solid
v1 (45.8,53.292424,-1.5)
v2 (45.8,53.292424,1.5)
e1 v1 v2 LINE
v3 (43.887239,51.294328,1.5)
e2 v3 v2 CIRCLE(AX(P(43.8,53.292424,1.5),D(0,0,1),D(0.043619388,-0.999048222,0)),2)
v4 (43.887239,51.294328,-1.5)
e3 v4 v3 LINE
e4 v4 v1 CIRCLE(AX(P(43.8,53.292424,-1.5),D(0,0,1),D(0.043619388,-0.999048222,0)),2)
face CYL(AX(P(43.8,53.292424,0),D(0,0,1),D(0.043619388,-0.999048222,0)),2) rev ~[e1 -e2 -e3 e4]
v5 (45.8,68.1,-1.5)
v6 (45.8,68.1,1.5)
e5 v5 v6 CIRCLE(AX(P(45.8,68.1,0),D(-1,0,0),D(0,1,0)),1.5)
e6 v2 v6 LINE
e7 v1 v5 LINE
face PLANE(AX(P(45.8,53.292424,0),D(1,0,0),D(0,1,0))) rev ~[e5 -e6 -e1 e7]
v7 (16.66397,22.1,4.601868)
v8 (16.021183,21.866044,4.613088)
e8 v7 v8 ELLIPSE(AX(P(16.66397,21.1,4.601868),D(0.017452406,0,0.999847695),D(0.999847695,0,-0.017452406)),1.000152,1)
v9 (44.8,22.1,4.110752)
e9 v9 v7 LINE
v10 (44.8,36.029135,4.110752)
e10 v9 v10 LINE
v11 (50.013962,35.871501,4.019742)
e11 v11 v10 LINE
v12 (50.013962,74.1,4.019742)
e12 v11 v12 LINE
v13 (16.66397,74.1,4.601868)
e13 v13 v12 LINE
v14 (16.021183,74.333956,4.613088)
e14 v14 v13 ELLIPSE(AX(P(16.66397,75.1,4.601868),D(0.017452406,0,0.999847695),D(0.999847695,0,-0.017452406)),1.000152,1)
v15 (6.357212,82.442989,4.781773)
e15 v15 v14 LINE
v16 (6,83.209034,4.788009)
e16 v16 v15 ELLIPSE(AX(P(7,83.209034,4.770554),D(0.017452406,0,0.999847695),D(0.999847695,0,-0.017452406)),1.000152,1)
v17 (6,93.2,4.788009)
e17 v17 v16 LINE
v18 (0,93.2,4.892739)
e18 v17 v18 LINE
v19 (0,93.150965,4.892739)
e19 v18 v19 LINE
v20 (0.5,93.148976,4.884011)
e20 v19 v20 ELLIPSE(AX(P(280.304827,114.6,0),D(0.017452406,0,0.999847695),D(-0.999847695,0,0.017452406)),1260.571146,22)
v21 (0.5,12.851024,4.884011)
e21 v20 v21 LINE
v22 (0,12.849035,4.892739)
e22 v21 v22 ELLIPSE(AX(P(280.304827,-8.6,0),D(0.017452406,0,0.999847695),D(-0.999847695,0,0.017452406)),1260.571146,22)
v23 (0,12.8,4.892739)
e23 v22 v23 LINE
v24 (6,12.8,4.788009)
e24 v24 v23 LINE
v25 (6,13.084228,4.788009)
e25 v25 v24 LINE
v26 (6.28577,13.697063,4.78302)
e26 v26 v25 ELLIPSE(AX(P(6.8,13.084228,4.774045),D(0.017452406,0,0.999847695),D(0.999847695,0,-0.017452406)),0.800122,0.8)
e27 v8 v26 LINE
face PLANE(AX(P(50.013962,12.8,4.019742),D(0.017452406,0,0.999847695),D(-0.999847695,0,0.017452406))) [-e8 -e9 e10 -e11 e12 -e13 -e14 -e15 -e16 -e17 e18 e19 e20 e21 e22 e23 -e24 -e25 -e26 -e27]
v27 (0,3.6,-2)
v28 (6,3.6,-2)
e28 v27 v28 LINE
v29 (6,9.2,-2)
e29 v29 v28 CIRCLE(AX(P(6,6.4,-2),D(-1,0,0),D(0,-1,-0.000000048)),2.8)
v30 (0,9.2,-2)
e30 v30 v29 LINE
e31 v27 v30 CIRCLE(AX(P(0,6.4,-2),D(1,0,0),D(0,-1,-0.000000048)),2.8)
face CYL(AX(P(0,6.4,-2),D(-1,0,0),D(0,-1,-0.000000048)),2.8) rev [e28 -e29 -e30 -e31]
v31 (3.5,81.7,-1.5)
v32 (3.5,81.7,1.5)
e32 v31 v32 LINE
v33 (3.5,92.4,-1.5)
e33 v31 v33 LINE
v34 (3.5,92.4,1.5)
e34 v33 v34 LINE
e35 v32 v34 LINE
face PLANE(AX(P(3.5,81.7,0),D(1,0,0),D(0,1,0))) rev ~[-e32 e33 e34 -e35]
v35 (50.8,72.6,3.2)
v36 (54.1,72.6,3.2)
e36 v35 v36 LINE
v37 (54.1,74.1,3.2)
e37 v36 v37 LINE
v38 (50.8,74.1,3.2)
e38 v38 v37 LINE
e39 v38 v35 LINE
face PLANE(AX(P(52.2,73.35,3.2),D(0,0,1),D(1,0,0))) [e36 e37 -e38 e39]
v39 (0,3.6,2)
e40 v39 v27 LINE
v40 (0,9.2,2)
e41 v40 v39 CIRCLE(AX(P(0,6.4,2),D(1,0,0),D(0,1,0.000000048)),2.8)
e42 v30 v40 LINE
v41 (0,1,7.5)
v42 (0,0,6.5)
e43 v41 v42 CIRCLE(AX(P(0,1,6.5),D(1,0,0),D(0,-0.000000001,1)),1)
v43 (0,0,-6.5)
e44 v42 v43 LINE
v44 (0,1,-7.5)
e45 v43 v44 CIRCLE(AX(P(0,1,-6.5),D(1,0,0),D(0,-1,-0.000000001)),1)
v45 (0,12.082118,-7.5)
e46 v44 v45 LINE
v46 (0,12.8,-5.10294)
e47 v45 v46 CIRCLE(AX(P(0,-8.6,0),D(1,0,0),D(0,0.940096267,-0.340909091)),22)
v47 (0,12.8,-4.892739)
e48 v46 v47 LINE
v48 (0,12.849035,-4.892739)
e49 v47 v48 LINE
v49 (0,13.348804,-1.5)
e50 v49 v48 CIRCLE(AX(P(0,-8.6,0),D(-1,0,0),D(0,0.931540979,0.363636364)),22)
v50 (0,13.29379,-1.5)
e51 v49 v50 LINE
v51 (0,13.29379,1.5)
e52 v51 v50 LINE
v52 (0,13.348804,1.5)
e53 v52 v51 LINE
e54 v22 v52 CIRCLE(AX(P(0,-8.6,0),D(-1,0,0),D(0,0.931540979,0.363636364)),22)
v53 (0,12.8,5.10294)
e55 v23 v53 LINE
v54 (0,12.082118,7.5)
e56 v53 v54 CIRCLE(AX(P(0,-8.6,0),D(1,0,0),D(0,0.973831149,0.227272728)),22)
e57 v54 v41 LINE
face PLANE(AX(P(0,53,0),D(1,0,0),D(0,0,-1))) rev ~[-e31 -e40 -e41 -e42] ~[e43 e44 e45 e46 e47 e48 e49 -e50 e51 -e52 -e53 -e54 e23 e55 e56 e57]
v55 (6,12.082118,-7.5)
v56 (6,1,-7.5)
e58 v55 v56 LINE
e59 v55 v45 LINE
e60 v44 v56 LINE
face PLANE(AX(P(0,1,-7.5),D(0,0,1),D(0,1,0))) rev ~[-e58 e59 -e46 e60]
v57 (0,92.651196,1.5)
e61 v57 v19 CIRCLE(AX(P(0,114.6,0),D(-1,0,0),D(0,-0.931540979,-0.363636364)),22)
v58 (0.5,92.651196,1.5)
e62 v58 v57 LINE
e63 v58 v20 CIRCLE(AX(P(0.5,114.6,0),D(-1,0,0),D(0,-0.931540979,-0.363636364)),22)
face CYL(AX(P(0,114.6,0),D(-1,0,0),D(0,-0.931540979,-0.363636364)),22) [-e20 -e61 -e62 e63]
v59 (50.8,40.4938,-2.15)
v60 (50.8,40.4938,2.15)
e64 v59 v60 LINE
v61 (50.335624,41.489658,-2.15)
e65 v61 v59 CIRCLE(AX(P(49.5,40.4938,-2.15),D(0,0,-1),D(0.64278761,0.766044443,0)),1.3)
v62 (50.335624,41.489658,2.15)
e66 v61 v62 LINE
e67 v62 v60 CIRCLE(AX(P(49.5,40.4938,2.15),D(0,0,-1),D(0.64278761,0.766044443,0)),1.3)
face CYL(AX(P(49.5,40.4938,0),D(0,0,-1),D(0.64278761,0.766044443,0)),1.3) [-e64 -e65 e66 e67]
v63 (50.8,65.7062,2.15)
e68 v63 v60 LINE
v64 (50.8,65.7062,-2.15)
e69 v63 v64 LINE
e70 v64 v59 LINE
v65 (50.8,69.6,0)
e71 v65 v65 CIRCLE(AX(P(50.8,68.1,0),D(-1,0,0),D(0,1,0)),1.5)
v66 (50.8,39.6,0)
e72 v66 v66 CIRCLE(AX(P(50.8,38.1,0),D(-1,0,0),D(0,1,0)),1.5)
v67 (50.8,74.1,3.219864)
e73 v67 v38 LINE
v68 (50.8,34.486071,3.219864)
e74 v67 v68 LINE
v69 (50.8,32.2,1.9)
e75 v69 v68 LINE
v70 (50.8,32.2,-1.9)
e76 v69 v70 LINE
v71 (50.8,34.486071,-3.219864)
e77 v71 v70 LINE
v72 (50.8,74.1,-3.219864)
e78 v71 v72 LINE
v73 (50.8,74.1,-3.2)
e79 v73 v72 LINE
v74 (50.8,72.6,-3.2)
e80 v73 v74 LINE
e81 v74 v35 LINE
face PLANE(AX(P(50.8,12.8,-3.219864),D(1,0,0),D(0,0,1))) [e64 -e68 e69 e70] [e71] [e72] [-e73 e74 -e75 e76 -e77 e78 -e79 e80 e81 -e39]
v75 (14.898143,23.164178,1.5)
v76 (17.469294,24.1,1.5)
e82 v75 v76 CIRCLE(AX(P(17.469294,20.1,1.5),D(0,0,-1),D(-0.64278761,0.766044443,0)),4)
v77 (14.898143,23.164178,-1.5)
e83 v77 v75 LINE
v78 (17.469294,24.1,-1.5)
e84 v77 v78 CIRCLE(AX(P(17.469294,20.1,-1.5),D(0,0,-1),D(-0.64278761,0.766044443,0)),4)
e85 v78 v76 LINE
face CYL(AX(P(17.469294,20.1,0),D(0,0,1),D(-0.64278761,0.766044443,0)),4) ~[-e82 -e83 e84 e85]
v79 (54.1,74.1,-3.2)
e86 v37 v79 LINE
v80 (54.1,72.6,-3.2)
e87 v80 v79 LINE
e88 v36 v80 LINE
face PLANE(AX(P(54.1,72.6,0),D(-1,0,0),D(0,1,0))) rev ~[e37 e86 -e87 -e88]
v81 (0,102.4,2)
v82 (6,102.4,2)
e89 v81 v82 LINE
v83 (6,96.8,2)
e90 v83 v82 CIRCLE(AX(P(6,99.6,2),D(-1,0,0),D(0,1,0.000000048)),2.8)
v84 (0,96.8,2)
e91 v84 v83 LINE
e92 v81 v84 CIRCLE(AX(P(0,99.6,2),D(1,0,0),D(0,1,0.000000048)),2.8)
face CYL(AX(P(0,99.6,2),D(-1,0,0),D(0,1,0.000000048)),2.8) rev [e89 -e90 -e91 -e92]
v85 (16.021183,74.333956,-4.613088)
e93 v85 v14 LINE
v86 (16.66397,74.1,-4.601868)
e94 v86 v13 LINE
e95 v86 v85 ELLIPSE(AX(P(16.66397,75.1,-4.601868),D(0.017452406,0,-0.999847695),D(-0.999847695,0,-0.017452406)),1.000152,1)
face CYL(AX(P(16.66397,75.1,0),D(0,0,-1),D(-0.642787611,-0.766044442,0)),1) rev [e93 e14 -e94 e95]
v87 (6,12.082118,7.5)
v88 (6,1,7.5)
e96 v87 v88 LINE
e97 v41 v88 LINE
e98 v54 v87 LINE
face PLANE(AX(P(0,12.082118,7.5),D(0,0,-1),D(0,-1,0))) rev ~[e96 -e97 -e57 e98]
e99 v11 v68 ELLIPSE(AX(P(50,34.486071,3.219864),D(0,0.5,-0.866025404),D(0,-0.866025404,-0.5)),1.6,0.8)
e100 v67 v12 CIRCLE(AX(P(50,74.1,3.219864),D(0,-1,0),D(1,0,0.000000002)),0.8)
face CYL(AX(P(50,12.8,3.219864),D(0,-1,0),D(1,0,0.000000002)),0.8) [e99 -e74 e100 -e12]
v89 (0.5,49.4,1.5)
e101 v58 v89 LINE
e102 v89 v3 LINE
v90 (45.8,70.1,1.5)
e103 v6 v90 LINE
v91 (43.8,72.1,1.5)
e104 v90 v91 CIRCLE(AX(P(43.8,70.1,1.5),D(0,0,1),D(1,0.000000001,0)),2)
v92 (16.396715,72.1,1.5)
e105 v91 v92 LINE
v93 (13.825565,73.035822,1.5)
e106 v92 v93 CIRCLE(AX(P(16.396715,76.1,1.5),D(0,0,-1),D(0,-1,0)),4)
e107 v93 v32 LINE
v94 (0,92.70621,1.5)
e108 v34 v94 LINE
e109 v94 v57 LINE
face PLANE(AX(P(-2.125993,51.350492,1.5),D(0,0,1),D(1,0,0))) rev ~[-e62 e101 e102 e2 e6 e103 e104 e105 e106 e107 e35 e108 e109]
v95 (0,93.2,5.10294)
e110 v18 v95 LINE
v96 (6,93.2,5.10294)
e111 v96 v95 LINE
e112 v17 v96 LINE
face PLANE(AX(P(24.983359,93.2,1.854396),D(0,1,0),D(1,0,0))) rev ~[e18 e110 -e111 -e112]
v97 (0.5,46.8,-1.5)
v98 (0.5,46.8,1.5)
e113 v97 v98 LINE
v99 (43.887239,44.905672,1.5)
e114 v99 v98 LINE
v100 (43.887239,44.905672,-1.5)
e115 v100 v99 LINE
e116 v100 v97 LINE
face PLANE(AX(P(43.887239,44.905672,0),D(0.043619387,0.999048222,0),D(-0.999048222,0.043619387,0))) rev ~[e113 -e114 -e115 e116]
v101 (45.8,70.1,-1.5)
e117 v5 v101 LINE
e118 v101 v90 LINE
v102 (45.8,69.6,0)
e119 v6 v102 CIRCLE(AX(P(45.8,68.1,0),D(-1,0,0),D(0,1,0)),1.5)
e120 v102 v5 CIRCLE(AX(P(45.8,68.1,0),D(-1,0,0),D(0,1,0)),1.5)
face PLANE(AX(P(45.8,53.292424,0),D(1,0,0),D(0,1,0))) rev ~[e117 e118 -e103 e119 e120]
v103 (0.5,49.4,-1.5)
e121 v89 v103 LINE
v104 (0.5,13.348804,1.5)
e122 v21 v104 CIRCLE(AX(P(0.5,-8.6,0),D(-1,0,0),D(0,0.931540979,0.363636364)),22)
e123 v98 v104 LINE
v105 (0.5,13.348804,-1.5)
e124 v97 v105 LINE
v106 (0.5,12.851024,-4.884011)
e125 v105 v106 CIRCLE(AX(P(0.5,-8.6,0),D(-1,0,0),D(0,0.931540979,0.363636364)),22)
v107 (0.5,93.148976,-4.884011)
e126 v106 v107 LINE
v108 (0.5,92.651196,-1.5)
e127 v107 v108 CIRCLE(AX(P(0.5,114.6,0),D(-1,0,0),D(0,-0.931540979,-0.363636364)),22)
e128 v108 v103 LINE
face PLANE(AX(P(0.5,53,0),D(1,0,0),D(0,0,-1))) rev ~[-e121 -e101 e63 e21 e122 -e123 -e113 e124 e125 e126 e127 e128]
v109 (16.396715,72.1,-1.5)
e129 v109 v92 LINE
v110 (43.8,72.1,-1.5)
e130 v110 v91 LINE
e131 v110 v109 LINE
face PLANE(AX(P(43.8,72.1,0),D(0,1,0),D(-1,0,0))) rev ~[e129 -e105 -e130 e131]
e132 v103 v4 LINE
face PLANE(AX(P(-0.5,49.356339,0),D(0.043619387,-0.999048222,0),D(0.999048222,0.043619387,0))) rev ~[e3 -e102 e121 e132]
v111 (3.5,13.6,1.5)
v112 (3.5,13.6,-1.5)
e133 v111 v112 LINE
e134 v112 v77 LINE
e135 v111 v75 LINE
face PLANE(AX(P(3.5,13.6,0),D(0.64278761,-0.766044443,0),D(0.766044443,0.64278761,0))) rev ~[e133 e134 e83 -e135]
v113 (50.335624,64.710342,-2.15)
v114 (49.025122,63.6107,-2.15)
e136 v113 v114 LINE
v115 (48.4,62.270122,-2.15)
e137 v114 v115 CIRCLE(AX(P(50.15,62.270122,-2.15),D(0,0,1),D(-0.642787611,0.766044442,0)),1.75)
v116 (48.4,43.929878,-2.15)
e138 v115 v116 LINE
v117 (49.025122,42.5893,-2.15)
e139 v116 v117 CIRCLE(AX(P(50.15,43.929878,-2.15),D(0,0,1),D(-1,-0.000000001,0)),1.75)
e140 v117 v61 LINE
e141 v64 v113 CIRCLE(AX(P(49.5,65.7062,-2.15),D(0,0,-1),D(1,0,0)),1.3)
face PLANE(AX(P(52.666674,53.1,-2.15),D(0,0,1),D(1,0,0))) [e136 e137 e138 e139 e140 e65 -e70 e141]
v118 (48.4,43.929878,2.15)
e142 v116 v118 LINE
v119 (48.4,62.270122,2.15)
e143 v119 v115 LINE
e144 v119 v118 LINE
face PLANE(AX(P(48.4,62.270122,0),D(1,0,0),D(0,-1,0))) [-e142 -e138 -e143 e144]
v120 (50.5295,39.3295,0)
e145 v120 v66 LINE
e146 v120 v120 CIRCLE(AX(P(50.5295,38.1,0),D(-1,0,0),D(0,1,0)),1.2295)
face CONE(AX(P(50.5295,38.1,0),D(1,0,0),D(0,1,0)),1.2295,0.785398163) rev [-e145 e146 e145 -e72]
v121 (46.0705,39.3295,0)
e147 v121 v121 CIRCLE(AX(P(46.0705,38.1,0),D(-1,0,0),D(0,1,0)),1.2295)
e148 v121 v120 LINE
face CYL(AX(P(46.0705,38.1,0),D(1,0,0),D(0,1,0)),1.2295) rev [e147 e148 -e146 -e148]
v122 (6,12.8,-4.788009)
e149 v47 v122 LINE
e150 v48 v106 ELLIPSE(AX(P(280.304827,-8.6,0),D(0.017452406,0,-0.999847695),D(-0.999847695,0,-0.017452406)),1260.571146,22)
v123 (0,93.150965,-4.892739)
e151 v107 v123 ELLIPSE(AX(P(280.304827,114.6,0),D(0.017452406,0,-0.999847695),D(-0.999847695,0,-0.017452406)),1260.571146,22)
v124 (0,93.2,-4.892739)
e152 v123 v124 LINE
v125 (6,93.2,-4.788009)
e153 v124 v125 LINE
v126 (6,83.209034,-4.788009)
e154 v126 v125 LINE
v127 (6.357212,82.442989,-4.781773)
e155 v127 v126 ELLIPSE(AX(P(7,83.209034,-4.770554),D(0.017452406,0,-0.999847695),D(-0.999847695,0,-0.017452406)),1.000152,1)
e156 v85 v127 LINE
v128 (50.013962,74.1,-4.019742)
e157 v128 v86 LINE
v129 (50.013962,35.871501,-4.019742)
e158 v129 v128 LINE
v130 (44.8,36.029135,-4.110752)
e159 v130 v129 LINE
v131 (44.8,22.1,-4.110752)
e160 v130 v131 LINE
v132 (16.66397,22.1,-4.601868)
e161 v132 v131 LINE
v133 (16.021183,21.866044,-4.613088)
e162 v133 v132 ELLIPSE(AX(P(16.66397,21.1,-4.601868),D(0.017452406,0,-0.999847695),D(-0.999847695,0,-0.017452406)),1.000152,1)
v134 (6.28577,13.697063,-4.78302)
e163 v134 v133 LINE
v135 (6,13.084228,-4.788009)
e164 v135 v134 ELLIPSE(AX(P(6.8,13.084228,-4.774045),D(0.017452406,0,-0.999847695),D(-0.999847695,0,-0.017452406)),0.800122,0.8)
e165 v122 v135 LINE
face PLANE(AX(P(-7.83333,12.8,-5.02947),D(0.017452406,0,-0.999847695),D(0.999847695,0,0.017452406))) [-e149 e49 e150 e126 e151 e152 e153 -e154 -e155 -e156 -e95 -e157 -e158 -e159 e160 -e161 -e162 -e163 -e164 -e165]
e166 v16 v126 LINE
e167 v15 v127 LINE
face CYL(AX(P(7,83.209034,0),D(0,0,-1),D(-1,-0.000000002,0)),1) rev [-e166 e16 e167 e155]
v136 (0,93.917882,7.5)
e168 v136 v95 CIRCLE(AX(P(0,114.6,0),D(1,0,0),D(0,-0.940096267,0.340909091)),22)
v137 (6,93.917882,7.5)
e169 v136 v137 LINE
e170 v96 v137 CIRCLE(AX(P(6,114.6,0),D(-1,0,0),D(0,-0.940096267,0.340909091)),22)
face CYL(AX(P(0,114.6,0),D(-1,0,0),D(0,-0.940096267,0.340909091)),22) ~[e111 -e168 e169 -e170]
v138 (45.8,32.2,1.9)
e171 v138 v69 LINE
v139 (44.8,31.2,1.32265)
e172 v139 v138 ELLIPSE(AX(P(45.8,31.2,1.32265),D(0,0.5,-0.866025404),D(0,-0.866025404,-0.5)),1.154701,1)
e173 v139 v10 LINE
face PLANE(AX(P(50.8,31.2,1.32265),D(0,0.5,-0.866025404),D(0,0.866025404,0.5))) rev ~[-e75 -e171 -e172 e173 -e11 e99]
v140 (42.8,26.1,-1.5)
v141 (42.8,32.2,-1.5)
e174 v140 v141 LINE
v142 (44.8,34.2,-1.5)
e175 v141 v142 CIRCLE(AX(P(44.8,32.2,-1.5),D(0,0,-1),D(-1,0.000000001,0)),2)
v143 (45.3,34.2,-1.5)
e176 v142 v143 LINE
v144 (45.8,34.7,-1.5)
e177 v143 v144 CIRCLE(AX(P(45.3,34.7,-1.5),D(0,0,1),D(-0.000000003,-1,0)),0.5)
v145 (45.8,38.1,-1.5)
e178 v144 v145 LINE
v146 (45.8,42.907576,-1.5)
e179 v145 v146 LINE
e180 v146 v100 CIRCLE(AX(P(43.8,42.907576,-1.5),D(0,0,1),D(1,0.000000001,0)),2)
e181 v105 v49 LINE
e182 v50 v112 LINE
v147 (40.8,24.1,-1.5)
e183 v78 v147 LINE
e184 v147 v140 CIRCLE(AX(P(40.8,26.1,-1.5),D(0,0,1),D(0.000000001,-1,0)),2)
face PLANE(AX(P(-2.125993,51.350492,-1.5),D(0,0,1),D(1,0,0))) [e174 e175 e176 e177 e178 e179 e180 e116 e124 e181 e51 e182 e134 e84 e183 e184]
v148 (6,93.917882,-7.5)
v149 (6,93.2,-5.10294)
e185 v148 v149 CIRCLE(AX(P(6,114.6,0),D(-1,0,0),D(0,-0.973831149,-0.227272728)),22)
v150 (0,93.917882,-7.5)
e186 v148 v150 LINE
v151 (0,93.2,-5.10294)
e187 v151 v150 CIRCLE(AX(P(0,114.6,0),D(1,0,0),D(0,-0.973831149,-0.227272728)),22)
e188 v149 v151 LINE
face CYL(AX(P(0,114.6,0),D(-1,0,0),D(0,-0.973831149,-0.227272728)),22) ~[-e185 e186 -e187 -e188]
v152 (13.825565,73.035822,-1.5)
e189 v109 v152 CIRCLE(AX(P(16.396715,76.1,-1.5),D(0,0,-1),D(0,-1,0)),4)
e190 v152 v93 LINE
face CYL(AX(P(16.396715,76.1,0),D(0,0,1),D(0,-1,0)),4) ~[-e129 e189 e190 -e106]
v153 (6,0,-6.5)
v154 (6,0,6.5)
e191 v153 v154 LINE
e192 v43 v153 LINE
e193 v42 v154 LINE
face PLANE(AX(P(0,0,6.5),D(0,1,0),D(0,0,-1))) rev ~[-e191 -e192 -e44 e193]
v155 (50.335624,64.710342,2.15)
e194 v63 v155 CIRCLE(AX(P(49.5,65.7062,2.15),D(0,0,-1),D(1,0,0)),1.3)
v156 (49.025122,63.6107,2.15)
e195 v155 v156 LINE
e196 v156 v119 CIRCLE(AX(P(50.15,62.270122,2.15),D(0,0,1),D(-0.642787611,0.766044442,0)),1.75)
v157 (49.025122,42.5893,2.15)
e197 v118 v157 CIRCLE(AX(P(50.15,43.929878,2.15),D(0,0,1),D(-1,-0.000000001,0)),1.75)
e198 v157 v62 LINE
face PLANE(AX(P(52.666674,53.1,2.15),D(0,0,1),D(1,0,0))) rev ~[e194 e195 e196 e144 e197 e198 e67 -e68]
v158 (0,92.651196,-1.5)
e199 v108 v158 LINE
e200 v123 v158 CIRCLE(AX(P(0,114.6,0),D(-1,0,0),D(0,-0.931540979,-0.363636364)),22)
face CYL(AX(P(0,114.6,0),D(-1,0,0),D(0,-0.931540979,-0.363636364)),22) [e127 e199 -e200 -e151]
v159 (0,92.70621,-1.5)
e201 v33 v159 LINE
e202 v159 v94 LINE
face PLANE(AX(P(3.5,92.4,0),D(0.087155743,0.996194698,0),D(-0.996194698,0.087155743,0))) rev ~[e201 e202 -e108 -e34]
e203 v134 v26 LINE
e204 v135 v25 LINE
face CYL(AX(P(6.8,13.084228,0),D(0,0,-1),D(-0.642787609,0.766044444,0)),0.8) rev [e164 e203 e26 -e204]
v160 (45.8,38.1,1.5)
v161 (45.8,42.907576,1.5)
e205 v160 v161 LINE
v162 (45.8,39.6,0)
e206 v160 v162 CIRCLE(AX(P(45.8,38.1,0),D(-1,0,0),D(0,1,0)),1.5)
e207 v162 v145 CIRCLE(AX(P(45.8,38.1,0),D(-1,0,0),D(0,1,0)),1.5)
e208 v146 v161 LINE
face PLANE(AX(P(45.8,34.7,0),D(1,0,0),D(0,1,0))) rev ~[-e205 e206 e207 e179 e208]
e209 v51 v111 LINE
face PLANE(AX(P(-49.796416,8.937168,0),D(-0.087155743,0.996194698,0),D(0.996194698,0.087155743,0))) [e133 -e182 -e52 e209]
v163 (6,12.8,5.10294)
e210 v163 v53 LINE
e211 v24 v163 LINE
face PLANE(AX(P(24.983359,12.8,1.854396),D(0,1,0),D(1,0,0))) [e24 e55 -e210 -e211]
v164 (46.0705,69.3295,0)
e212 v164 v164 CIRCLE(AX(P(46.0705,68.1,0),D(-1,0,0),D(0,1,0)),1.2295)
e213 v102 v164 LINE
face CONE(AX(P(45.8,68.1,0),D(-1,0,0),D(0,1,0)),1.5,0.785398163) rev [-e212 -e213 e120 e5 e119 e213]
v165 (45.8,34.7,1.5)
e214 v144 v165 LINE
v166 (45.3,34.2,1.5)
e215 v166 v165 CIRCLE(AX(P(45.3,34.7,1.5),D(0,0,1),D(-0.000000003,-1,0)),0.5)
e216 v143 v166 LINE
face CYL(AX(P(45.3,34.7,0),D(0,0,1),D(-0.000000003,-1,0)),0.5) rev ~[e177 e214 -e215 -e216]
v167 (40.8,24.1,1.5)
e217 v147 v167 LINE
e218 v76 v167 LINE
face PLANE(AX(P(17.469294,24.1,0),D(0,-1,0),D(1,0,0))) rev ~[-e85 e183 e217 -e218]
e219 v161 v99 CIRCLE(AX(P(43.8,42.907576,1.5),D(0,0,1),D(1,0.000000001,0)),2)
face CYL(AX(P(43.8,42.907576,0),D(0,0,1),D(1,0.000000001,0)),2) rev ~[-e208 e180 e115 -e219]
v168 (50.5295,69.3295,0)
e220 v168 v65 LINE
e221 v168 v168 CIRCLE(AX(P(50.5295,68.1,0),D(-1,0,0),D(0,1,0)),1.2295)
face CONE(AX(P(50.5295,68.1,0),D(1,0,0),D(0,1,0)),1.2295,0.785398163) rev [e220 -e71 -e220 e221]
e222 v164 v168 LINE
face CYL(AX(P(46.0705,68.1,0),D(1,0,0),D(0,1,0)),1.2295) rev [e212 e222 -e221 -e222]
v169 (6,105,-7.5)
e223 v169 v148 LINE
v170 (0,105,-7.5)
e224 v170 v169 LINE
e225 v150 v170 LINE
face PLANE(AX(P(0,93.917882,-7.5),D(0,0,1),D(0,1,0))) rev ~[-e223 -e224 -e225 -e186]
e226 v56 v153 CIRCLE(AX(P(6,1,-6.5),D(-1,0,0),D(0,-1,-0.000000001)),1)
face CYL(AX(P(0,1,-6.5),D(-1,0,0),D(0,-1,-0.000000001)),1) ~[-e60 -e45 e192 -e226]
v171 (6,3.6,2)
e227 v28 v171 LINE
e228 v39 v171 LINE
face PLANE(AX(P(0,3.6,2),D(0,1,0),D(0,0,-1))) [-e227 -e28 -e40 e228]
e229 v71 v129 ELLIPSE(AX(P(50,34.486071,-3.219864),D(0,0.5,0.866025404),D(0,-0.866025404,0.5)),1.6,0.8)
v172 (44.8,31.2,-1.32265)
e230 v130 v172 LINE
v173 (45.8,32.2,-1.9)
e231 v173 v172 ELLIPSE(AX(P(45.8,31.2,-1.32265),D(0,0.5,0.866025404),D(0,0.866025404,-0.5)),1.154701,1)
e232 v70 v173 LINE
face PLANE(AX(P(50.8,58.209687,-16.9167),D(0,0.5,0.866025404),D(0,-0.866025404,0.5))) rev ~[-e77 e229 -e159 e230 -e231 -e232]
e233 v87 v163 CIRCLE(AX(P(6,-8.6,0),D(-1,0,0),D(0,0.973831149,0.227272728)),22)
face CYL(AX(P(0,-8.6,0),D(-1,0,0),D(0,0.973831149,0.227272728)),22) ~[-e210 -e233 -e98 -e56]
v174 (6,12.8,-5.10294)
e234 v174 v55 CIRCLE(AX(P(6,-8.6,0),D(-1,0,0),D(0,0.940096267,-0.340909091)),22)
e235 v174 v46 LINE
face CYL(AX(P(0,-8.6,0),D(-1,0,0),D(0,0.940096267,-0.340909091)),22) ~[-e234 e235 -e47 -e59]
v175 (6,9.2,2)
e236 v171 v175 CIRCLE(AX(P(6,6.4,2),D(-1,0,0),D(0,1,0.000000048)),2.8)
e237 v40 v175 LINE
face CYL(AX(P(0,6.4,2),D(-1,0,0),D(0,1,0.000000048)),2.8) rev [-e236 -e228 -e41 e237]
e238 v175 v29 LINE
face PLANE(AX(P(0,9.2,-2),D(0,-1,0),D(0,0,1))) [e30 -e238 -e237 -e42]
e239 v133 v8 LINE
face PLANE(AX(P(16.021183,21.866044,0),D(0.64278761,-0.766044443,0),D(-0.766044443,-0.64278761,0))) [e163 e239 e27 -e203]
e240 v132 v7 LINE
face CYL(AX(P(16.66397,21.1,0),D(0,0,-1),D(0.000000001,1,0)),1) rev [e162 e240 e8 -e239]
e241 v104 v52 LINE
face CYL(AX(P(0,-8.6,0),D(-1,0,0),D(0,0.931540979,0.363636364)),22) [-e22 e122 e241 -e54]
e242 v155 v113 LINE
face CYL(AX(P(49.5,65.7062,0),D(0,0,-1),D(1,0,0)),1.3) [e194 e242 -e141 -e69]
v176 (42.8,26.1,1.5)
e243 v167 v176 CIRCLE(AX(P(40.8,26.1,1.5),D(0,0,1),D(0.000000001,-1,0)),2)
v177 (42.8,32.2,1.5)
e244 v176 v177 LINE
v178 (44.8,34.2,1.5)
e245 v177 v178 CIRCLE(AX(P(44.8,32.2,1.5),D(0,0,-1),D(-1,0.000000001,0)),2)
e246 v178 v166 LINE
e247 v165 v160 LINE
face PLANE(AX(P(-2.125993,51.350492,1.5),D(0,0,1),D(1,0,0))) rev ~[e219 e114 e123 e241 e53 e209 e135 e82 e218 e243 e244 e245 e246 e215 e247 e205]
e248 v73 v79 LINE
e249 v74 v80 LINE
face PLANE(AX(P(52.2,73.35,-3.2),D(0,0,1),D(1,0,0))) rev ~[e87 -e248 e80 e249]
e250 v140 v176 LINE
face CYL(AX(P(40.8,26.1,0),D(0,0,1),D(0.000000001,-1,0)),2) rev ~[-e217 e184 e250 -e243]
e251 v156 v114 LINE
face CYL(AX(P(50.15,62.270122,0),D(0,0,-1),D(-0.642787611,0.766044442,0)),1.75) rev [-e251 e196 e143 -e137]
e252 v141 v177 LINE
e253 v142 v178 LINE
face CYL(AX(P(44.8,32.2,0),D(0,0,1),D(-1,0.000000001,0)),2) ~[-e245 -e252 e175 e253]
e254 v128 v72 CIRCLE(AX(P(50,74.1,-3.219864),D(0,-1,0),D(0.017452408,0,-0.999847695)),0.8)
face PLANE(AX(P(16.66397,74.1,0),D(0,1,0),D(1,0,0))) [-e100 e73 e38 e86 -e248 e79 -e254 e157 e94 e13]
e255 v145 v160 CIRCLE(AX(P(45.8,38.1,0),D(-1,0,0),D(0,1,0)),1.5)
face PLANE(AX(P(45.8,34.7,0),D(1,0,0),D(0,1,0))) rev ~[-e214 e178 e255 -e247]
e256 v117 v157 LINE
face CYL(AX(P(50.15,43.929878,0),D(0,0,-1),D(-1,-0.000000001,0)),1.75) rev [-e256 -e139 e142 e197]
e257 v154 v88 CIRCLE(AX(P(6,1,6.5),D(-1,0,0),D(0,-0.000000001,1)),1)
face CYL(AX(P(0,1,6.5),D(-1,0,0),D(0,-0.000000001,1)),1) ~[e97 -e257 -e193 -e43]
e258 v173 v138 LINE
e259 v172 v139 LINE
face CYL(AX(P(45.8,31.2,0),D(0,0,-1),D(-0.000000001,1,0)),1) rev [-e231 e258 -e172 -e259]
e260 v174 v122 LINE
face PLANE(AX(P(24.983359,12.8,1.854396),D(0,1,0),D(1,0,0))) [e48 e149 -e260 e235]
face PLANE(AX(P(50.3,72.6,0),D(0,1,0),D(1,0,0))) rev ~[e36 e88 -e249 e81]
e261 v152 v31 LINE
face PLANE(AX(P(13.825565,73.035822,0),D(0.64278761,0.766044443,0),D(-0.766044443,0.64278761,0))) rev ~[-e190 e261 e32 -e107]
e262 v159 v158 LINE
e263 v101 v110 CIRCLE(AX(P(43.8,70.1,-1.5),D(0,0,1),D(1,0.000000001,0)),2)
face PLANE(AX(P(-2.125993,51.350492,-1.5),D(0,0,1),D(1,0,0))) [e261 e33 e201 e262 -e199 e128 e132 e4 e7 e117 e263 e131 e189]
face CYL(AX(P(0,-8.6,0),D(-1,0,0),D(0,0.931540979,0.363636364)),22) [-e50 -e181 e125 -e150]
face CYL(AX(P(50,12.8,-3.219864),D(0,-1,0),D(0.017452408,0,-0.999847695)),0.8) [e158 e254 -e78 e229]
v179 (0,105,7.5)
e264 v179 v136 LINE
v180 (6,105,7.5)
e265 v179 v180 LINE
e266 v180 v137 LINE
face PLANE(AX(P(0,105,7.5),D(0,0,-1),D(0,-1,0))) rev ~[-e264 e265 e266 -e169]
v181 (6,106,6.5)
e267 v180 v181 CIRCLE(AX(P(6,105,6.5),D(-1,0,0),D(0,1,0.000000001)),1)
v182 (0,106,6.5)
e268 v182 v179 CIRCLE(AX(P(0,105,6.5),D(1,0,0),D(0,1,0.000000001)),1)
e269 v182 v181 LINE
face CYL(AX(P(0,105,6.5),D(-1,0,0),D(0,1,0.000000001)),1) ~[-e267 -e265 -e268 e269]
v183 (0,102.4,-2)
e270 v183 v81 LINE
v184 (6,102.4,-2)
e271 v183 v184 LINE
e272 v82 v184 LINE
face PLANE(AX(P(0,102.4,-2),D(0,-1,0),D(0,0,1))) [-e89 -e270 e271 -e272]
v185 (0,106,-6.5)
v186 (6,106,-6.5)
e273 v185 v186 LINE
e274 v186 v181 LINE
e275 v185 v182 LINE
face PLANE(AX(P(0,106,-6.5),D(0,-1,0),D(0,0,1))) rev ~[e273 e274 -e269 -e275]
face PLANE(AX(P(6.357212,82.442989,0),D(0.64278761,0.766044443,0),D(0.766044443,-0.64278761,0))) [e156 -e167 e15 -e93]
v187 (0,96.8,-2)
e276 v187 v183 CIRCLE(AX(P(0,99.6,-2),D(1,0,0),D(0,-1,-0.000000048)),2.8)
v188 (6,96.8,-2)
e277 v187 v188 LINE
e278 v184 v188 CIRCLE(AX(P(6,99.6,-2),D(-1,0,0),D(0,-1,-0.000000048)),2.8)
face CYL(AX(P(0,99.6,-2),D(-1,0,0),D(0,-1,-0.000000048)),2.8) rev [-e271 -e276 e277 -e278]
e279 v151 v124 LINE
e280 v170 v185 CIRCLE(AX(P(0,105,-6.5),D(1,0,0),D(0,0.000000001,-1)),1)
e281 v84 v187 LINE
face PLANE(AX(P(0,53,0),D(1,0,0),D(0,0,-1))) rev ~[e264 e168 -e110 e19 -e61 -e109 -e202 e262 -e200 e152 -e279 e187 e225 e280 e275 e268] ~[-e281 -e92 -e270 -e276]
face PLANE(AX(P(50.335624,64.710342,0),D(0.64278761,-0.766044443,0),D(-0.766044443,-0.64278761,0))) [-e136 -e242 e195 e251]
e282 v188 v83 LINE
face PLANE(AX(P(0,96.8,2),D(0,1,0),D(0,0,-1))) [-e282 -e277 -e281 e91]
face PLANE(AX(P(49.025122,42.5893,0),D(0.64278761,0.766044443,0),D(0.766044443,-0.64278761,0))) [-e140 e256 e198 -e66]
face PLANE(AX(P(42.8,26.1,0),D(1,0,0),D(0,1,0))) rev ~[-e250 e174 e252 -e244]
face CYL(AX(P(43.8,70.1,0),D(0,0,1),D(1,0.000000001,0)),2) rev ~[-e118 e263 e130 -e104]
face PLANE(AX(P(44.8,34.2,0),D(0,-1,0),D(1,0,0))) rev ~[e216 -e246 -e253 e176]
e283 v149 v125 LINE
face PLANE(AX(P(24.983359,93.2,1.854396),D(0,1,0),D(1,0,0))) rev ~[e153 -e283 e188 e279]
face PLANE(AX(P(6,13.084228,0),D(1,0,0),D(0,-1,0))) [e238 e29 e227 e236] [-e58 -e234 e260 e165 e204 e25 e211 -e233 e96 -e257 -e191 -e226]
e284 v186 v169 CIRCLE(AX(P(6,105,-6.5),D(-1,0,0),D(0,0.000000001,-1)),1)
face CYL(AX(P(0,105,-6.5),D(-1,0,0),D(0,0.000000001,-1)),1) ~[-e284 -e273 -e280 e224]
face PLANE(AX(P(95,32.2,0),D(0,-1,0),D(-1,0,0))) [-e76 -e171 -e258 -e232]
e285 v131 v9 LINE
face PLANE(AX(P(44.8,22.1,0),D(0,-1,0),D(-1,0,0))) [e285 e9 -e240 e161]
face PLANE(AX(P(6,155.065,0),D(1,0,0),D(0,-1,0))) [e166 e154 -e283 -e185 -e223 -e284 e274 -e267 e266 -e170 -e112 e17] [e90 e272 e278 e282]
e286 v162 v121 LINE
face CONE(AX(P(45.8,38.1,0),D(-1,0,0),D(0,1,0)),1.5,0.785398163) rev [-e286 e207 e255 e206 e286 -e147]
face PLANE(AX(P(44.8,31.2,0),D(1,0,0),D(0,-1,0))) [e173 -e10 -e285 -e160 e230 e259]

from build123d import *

# Parameters (mm, degrees)
BOSS_EXTRUDE1_DEPTH      = 51
CUT_EXTRUDE1_DEPTH       = 10
CUT_EXTRUDE1_DEPTH_BACK  = 10
CUT_EXTRUDE2_DEPTH       = 10
CUT_EXTRUDE2_DEPTH_BACK  = 10
CUT_EXTRUDE3_DEPTH       = 10
CUT_EXTRUDE3_DEPTH_BACK  = 10
CUT_EXTRUDE4_DEPTH       = 0.5
CUT_EXTRUDE4_DEPTH_BACK  = 0.5
CUT_EXTRUDE5_DEPTH       = 80.4
CUT_EXTRUDE6_DEPTH       = 1.5
CUT_EXTRUDE6_DEPTH_BACK  = 1.5
SKETCH8_W                = 3.8
SKETCH8_H                = 1.5
BOSS_EXTRUDE2_DEPTH      = 3.2
BOSS_EXTRUDE2_DEPTH_BACK = 3.2
CUT_EXTRUDE7_DEPTH       = 2.15
CUT_EXTRUDE7_DEPTH_BACK  = 2.15
CUT_EXTRUDE8_DEPTH       = 6
CUT_EXTRUDE8_DEPTH_BACK  = 6


with BuildPart() as part:
    # Sketch1 → Boss-Extrude1 (new body)
    with BuildSketch(Plane(origin=(0, 0, 0), x_dir=(0, 0, -1), z_dir=(1, 0, 0))):
        with BuildLine():
            Line((-7.5, 105), (-7.5, 93.91788212))
            ThreePointArc((-7.5, 93.91788212), (-6.261006558, 93.509722693), (-5, 93.175714714))
            Line((-5, 93.175714714), (-5, 12.824285286))
            ThreePointArc((-5, 12.824285286), (-6.261006558, 12.490277307), (-7.5, 12.08211788))
            Line((-7.5, 12.08211788), (-7.5, 1))
            ThreePointArc((-7.5, 1), (-7.207106781, 0.292893219), (-6.5, 0))
            Line((-6.5, 0), (6.5, 0))
            ThreePointArc((6.5, 0), (7.207106781, 0.292893219), (7.5, 1))
            Line((7.5, 1), (7.5, 12.08211788))
            ThreePointArc((7.5, 12.08211788), (6.261006558, 12.490277307), (5, 12.824285286))
            Line((5, 12.824285286), (5, 93.175714714))
            ThreePointArc((5, 93.175714714), (6.261006558, 93.509722693), (7.5, 93.91788212))
            Line((7.5, 93.91788212), (7.5, 105))
            ThreePointArc((7.5, 105), (7.207106781, 105.707106781), (6.5, 106))
            Line((6.5, 106), (-6.5, 106))
            ThreePointArc((-6.5, 106), (-7.207106781, 105.707106781), (-7.5, 105))
        make_face()
    extrude(amount=BOSS_EXTRUDE1_DEPTH)

    # Sketch2 → Cut-Extrude1 (cut, two sides)
    with BuildSketch(Plane.XY) as cut_extrude1_sk:
        with BuildLine():
            Line((6, 155.065), (6, 83.209033859))
            ThreePointArc((6, 83.209033859), (6.093692213, 82.786415598), (6.35721239, 82.442989416))
            Line((6.35721239, 82.442989416), (16.021182625, 74.333955557))
            ThreePointArc((16.021182625, 74.333955557), (16.321950091, 74.160307379), (16.663970234, 74.1))
            Line((16.663970234, 74.1), (95, 74.1))
            Line((95, 74.1), (95, 32.2))
            Line((95, 32.2), (45.8, 32.2))
            ThreePointArc((45.8, 32.2), (45.092893219, 31.907106781), (44.8, 31.2))
            Line((44.8, 31.2), (44.8, 22.1))
            Line((44.8, 22.1), (16.663970234, 22.1))
            ThreePointArc((16.663970234, 22.1), (16.321950091, 22.039692621), (16.021182625, 21.866044443))
            Line((16.021182625, 21.866044443), (6.285769912, 13.697063227))
            ThreePointArc((6.285769912, 13.697063227), (6.07495377, 13.422322282), (6, 13.084227672))
            Line((6, 13.084227672), (6, -150))
            Line((6, -150), (100, -150))
            Line((100, -150), (100, 155.065))
            Line((100, 155.065), (6, 155.065))
        make_face()
    extrude(amount=CUT_EXTRUDE1_DEPTH, mode=Mode.SUBTRACT)
    extrude(cut_extrude1_sk.sketch, amount=-CUT_EXTRUDE1_DEPTH_BACK, mode=Mode.SUBTRACT)

    # Sketch3 → Cut-Extrude2 (cut, two sides)
    with BuildSketch(Plane(origin=(0, 0, 0), x_dir=(0, 0, -1), z_dir=(1, 0, 0))) as cut_extrude2_sk:
        with BuildLine():
            Line((-2, 3.6), (2, 3.6))
            ThreePointArc((2, 3.6), (4.799999867, 6.4), (2, 9.2))
            Line((2, 9.2), (-2, 9.2))
            ThreePointArc((-2, 9.2), (-4.799999867, 6.4), (-2, 3.6))
        make_face()
    extrude(amount=CUT_EXTRUDE2_DEPTH, mode=Mode.SUBTRACT)
    extrude(cut_extrude2_sk.sketch, amount=-CUT_EXTRUDE2_DEPTH_BACK, mode=Mode.SUBTRACT)

    # Sketch4 → Cut-Extrude3 (cut, two sides)
    with BuildSketch(Plane(origin=(0, 0, 0), x_dir=(0, 0, -1), z_dir=(1, 0, 0))) as cut_extrude3_sk:
        with BuildLine():
            Line((-2, 96.8), (2, 96.8))
            ThreePointArc((2, 96.8), (4.799999867, 99.6), (2, 102.4))
            Line((2, 102.4), (-2, 102.4))
            ThreePointArc((-2, 102.4), (-4.799999867, 99.6), (-2, 96.8))
        make_face()
    extrude(amount=CUT_EXTRUDE3_DEPTH, mode=Mode.SUBTRACT)
    extrude(cut_extrude3_sk.sketch, amount=-CUT_EXTRUDE3_DEPTH_BACK, mode=Mode.SUBTRACT)

    # Sketch5 → Cut-Extrude4 (cut, two sides)
    with BuildSketch(Plane(origin=(0, 0, 0), x_dir=(0, 0, -1), z_dir=(1, 0, 0))) as cut_extrude4_sk:
        with BuildLine():
            Line((-8, 94.106098468), (-8, 11.893901532))
            ThreePointArc((-8, 11.893901532), (0, 13.4), (8, 11.893901532))
            Line((8, 11.893901532), (8, 94.106098468))
            ThreePointArc((8, 94.106098468), (0, 92.6), (-8, 94.106098468))
        make_face()
    extrude(amount=CUT_EXTRUDE4_DEPTH, mode=Mode.SUBTRACT)
    extrude(cut_extrude4_sk.sketch, amount=-CUT_EXTRUDE4_DEPTH_BACK, mode=Mode.SUBTRACT)

    # Sketch6 → Cut-Extrude5 (cut)
    with BuildSketch(Plane(origin=(0, 12.8, 0), x_dir=(1, 0, 0), z_dir=(0, 1, 0))):
        with BuildLine():
            Line((-7.83333, -20.4458), (56.7096, -20.4458))
            Line((56.7096, -20.4458), (56.7096, 14.6041))
            Line((56.7096, 14.6041), (-7.83333, 14.6041))
            Line((-7.83333, 14.6041), (-7.83333, 5.029470245))
            Line((-7.83333, 5.029470245), (50.013961925, 4.019742008))
            ThreePointArc((50.013961925, 4.019742008), (50.570600359, 3.780591263), (50.8, 3.219863852))
            Line((50.8, 3.219863852), (50.8, -3.219863852))
            ThreePointArc((50.8, -3.219863852), (50.570600359, -3.780591263), (50.013961925, -4.019742008))
            Line((50.013961925, -4.019742008), (-7.83333, -5.029470245))
            Line((-7.83333, -5.029470245), (-7.83333, -20.4458))
        make_face()
    extrude(amount=CUT_EXTRUDE5_DEPTH, mode=Mode.SUBTRACT)

    # Sketch7 → Cut-Extrude6 (cut, two sides)
    with BuildSketch(Plane.XY) as cut_extrude6_sk:
        with BuildLine():
            Line((-49.796416348, 97.062832237), (-49.796416348, 8.937167763))
            Line((-49.796416348, 8.937167763), (3.5, 13.6))
            Line((3.5, 13.6), (14.898143221, 23.164177772))
            ThreePointArc((14.898143221, 23.164177772), (16.101213086, 23.858770483), (17.469293659, 24.1))
            Line((17.469293659, 24.1), (40.8, 24.1))
            ThreePointArc((40.8, 24.1), (42.214213562, 24.685786438), (42.8, 26.1))
            Line((42.8, 26.1), (42.8, 32.2))
            ThreePointArc((42.8, 32.2), (43.385786438, 33.614213562), (44.8, 34.2))
            Line((44.8, 34.2), (45.3, 34.2))
            ThreePointArc((45.3, 34.2), (45.653553391, 34.346446609), (45.8, 34.7))
            Line((45.8, 34.7), (45.8, 42.907575802))
            ThreePointArc((45.8, 42.907575802), (45.244727924, 44.290601913), (43.887238775, 44.905672245))
            Line((43.887238775, 44.905672245), (-0.5, 46.843660943))
            Line((-0.5, 46.843660943), (-0.5, 49.356339057))
            Line((-0.5, 49.356339057), (43.887238775, 51.294327755))
            ThreePointArc((43.887238775, 51.294327755), (45.244727924, 51.909398087), (45.8, 53.292424198))
            Line((45.8, 53.292424198), (45.8, 70.1))
            ThreePointArc((45.8, 70.1), (45.214213562, 71.514213562), (43.8, 72.1))
            Line((43.8, 72.1), (16.396715426, 72.1))
            ThreePointArc((16.396715426, 72.1), (15.028634853, 72.341229517), (13.825564987, 73.035822228))
            Line((13.825564987, 73.035822228), (3.5, 81.7))
            Line((3.5, 81.7), (3.5, 92.4))
            Line((3.5, 92.4), (-49.796416348, 97.062832237))
        make_face()
    extrude(amount=CUT_EXTRUDE6_DEPTH, mode=Mode.SUBTRACT)
    extrude(cut_extrude6_sk.sketch, amount=-CUT_EXTRUDE6_DEPTH_BACK, mode=Mode.SUBTRACT)

    # Sketch8 → Boss-Extrude2 (add, two sides)
    with BuildSketch(Plane.XY) as boss_extrude2_sk:
        with Locations((52.2, 73.35)):
            Rectangle(SKETCH8_W, SKETCH8_H)
    extrude(amount=BOSS_EXTRUDE2_DEPTH)
    extrude(boss_extrude2_sk.sketch, amount=-BOSS_EXTRUDE2_DEPTH_BACK)

    # Sketch9 → Cut-Extrude7 (cut, two sides)
    with BuildSketch(Plane.XY) as cut_extrude7_sk:
        with BuildLine():
            Line((48.4, 62.270122483), (48.4, 43.929877517))
            ThreePointArc((48.4, 43.929877517), (48.563961373, 43.190295559), (49.025121683, 42.589299741))
            Line((49.025121683, 42.589299741), (50.335623893, 41.48965782))
            ThreePointArc((50.335623893, 41.48965782), (50.678200123, 41.043203785), (50.8, 40.493800044))
            Line((50.8, 40.493800044), (55.7133, 36.977251782))
            Line((55.7133, 36.977251782), (55.7133, 69.222748218))
            Line((55.7133, 69.222748218), (50.8, 65.706199956))
            ThreePointArc((50.8, 65.706199956), (50.678200123, 65.156796215), (50.335623893, 64.71034218))
            Line((50.335623893, 64.71034218), (49.025121683, 63.610700259))
            ThreePointArc((49.025121683, 63.610700259), (48.563961373, 63.009704441), (48.4, 62.270122483))
        make_face()
    extrude(amount=CUT_EXTRUDE7_DEPTH, mode=Mode.SUBTRACT)
    extrude(cut_extrude7_sk.sketch, amount=-CUT_EXTRUDE7_DEPTH_BACK, mode=Mode.SUBTRACT)

    # Sketch10 → Cut-Revolve1 (revolve, cut)
    with BuildSketch(Plane.XY):
        Polygon((45.8, 68.1), (45.8, 69.6), (46.0705, 69.3295), (50.5295, 69.3295), (50.8, 69.6), (50.8, 68.1), align=None)
    revolve(axis=Axis((50.8, 68.1, 0), (-1, 0, 0)), mode=Mode.SUBTRACT)

    # Sketch11 → Cut-Revolve2 (revolve, cut)
    with BuildSketch(Plane.XY):
        Polygon((45.8, 38.1), (45.8, 39.6), (46.0705, 39.3295), (50.5295, 39.3295), (50.8, 39.6), (50.8, 38.1), align=None)
    revolve(axis=Axis((50.8, 38.1, 0), (-1, 0, 0)), mode=Mode.SUBTRACT)

    # Sketch12 → Cut-Extrude8 (cut, two sides)
    with BuildSketch(Plane(origin=(50.8, 0, 0), x_dir=(0, 0, -1), z_dir=(1, 0, 0))) as cut_extrude8_sk:
        Polygon((-16.0833, 30.7), (16.9167, 30.7), (16.9167, 58.209687362), (1.322649731, 31.2), (-1.322649731, 31.2), (-16.0833, 56.766196219), align=None)
    extrude(amount=CUT_EXTRUDE8_DEPTH, mode=Mode.SUBTRACT)
    extrude(cut_extrude8_sk.sketch, amount=-CUT_EXTRUDE8_DEPTH_BACK, mode=Mode.SUBTRACT)


solid = part.part
